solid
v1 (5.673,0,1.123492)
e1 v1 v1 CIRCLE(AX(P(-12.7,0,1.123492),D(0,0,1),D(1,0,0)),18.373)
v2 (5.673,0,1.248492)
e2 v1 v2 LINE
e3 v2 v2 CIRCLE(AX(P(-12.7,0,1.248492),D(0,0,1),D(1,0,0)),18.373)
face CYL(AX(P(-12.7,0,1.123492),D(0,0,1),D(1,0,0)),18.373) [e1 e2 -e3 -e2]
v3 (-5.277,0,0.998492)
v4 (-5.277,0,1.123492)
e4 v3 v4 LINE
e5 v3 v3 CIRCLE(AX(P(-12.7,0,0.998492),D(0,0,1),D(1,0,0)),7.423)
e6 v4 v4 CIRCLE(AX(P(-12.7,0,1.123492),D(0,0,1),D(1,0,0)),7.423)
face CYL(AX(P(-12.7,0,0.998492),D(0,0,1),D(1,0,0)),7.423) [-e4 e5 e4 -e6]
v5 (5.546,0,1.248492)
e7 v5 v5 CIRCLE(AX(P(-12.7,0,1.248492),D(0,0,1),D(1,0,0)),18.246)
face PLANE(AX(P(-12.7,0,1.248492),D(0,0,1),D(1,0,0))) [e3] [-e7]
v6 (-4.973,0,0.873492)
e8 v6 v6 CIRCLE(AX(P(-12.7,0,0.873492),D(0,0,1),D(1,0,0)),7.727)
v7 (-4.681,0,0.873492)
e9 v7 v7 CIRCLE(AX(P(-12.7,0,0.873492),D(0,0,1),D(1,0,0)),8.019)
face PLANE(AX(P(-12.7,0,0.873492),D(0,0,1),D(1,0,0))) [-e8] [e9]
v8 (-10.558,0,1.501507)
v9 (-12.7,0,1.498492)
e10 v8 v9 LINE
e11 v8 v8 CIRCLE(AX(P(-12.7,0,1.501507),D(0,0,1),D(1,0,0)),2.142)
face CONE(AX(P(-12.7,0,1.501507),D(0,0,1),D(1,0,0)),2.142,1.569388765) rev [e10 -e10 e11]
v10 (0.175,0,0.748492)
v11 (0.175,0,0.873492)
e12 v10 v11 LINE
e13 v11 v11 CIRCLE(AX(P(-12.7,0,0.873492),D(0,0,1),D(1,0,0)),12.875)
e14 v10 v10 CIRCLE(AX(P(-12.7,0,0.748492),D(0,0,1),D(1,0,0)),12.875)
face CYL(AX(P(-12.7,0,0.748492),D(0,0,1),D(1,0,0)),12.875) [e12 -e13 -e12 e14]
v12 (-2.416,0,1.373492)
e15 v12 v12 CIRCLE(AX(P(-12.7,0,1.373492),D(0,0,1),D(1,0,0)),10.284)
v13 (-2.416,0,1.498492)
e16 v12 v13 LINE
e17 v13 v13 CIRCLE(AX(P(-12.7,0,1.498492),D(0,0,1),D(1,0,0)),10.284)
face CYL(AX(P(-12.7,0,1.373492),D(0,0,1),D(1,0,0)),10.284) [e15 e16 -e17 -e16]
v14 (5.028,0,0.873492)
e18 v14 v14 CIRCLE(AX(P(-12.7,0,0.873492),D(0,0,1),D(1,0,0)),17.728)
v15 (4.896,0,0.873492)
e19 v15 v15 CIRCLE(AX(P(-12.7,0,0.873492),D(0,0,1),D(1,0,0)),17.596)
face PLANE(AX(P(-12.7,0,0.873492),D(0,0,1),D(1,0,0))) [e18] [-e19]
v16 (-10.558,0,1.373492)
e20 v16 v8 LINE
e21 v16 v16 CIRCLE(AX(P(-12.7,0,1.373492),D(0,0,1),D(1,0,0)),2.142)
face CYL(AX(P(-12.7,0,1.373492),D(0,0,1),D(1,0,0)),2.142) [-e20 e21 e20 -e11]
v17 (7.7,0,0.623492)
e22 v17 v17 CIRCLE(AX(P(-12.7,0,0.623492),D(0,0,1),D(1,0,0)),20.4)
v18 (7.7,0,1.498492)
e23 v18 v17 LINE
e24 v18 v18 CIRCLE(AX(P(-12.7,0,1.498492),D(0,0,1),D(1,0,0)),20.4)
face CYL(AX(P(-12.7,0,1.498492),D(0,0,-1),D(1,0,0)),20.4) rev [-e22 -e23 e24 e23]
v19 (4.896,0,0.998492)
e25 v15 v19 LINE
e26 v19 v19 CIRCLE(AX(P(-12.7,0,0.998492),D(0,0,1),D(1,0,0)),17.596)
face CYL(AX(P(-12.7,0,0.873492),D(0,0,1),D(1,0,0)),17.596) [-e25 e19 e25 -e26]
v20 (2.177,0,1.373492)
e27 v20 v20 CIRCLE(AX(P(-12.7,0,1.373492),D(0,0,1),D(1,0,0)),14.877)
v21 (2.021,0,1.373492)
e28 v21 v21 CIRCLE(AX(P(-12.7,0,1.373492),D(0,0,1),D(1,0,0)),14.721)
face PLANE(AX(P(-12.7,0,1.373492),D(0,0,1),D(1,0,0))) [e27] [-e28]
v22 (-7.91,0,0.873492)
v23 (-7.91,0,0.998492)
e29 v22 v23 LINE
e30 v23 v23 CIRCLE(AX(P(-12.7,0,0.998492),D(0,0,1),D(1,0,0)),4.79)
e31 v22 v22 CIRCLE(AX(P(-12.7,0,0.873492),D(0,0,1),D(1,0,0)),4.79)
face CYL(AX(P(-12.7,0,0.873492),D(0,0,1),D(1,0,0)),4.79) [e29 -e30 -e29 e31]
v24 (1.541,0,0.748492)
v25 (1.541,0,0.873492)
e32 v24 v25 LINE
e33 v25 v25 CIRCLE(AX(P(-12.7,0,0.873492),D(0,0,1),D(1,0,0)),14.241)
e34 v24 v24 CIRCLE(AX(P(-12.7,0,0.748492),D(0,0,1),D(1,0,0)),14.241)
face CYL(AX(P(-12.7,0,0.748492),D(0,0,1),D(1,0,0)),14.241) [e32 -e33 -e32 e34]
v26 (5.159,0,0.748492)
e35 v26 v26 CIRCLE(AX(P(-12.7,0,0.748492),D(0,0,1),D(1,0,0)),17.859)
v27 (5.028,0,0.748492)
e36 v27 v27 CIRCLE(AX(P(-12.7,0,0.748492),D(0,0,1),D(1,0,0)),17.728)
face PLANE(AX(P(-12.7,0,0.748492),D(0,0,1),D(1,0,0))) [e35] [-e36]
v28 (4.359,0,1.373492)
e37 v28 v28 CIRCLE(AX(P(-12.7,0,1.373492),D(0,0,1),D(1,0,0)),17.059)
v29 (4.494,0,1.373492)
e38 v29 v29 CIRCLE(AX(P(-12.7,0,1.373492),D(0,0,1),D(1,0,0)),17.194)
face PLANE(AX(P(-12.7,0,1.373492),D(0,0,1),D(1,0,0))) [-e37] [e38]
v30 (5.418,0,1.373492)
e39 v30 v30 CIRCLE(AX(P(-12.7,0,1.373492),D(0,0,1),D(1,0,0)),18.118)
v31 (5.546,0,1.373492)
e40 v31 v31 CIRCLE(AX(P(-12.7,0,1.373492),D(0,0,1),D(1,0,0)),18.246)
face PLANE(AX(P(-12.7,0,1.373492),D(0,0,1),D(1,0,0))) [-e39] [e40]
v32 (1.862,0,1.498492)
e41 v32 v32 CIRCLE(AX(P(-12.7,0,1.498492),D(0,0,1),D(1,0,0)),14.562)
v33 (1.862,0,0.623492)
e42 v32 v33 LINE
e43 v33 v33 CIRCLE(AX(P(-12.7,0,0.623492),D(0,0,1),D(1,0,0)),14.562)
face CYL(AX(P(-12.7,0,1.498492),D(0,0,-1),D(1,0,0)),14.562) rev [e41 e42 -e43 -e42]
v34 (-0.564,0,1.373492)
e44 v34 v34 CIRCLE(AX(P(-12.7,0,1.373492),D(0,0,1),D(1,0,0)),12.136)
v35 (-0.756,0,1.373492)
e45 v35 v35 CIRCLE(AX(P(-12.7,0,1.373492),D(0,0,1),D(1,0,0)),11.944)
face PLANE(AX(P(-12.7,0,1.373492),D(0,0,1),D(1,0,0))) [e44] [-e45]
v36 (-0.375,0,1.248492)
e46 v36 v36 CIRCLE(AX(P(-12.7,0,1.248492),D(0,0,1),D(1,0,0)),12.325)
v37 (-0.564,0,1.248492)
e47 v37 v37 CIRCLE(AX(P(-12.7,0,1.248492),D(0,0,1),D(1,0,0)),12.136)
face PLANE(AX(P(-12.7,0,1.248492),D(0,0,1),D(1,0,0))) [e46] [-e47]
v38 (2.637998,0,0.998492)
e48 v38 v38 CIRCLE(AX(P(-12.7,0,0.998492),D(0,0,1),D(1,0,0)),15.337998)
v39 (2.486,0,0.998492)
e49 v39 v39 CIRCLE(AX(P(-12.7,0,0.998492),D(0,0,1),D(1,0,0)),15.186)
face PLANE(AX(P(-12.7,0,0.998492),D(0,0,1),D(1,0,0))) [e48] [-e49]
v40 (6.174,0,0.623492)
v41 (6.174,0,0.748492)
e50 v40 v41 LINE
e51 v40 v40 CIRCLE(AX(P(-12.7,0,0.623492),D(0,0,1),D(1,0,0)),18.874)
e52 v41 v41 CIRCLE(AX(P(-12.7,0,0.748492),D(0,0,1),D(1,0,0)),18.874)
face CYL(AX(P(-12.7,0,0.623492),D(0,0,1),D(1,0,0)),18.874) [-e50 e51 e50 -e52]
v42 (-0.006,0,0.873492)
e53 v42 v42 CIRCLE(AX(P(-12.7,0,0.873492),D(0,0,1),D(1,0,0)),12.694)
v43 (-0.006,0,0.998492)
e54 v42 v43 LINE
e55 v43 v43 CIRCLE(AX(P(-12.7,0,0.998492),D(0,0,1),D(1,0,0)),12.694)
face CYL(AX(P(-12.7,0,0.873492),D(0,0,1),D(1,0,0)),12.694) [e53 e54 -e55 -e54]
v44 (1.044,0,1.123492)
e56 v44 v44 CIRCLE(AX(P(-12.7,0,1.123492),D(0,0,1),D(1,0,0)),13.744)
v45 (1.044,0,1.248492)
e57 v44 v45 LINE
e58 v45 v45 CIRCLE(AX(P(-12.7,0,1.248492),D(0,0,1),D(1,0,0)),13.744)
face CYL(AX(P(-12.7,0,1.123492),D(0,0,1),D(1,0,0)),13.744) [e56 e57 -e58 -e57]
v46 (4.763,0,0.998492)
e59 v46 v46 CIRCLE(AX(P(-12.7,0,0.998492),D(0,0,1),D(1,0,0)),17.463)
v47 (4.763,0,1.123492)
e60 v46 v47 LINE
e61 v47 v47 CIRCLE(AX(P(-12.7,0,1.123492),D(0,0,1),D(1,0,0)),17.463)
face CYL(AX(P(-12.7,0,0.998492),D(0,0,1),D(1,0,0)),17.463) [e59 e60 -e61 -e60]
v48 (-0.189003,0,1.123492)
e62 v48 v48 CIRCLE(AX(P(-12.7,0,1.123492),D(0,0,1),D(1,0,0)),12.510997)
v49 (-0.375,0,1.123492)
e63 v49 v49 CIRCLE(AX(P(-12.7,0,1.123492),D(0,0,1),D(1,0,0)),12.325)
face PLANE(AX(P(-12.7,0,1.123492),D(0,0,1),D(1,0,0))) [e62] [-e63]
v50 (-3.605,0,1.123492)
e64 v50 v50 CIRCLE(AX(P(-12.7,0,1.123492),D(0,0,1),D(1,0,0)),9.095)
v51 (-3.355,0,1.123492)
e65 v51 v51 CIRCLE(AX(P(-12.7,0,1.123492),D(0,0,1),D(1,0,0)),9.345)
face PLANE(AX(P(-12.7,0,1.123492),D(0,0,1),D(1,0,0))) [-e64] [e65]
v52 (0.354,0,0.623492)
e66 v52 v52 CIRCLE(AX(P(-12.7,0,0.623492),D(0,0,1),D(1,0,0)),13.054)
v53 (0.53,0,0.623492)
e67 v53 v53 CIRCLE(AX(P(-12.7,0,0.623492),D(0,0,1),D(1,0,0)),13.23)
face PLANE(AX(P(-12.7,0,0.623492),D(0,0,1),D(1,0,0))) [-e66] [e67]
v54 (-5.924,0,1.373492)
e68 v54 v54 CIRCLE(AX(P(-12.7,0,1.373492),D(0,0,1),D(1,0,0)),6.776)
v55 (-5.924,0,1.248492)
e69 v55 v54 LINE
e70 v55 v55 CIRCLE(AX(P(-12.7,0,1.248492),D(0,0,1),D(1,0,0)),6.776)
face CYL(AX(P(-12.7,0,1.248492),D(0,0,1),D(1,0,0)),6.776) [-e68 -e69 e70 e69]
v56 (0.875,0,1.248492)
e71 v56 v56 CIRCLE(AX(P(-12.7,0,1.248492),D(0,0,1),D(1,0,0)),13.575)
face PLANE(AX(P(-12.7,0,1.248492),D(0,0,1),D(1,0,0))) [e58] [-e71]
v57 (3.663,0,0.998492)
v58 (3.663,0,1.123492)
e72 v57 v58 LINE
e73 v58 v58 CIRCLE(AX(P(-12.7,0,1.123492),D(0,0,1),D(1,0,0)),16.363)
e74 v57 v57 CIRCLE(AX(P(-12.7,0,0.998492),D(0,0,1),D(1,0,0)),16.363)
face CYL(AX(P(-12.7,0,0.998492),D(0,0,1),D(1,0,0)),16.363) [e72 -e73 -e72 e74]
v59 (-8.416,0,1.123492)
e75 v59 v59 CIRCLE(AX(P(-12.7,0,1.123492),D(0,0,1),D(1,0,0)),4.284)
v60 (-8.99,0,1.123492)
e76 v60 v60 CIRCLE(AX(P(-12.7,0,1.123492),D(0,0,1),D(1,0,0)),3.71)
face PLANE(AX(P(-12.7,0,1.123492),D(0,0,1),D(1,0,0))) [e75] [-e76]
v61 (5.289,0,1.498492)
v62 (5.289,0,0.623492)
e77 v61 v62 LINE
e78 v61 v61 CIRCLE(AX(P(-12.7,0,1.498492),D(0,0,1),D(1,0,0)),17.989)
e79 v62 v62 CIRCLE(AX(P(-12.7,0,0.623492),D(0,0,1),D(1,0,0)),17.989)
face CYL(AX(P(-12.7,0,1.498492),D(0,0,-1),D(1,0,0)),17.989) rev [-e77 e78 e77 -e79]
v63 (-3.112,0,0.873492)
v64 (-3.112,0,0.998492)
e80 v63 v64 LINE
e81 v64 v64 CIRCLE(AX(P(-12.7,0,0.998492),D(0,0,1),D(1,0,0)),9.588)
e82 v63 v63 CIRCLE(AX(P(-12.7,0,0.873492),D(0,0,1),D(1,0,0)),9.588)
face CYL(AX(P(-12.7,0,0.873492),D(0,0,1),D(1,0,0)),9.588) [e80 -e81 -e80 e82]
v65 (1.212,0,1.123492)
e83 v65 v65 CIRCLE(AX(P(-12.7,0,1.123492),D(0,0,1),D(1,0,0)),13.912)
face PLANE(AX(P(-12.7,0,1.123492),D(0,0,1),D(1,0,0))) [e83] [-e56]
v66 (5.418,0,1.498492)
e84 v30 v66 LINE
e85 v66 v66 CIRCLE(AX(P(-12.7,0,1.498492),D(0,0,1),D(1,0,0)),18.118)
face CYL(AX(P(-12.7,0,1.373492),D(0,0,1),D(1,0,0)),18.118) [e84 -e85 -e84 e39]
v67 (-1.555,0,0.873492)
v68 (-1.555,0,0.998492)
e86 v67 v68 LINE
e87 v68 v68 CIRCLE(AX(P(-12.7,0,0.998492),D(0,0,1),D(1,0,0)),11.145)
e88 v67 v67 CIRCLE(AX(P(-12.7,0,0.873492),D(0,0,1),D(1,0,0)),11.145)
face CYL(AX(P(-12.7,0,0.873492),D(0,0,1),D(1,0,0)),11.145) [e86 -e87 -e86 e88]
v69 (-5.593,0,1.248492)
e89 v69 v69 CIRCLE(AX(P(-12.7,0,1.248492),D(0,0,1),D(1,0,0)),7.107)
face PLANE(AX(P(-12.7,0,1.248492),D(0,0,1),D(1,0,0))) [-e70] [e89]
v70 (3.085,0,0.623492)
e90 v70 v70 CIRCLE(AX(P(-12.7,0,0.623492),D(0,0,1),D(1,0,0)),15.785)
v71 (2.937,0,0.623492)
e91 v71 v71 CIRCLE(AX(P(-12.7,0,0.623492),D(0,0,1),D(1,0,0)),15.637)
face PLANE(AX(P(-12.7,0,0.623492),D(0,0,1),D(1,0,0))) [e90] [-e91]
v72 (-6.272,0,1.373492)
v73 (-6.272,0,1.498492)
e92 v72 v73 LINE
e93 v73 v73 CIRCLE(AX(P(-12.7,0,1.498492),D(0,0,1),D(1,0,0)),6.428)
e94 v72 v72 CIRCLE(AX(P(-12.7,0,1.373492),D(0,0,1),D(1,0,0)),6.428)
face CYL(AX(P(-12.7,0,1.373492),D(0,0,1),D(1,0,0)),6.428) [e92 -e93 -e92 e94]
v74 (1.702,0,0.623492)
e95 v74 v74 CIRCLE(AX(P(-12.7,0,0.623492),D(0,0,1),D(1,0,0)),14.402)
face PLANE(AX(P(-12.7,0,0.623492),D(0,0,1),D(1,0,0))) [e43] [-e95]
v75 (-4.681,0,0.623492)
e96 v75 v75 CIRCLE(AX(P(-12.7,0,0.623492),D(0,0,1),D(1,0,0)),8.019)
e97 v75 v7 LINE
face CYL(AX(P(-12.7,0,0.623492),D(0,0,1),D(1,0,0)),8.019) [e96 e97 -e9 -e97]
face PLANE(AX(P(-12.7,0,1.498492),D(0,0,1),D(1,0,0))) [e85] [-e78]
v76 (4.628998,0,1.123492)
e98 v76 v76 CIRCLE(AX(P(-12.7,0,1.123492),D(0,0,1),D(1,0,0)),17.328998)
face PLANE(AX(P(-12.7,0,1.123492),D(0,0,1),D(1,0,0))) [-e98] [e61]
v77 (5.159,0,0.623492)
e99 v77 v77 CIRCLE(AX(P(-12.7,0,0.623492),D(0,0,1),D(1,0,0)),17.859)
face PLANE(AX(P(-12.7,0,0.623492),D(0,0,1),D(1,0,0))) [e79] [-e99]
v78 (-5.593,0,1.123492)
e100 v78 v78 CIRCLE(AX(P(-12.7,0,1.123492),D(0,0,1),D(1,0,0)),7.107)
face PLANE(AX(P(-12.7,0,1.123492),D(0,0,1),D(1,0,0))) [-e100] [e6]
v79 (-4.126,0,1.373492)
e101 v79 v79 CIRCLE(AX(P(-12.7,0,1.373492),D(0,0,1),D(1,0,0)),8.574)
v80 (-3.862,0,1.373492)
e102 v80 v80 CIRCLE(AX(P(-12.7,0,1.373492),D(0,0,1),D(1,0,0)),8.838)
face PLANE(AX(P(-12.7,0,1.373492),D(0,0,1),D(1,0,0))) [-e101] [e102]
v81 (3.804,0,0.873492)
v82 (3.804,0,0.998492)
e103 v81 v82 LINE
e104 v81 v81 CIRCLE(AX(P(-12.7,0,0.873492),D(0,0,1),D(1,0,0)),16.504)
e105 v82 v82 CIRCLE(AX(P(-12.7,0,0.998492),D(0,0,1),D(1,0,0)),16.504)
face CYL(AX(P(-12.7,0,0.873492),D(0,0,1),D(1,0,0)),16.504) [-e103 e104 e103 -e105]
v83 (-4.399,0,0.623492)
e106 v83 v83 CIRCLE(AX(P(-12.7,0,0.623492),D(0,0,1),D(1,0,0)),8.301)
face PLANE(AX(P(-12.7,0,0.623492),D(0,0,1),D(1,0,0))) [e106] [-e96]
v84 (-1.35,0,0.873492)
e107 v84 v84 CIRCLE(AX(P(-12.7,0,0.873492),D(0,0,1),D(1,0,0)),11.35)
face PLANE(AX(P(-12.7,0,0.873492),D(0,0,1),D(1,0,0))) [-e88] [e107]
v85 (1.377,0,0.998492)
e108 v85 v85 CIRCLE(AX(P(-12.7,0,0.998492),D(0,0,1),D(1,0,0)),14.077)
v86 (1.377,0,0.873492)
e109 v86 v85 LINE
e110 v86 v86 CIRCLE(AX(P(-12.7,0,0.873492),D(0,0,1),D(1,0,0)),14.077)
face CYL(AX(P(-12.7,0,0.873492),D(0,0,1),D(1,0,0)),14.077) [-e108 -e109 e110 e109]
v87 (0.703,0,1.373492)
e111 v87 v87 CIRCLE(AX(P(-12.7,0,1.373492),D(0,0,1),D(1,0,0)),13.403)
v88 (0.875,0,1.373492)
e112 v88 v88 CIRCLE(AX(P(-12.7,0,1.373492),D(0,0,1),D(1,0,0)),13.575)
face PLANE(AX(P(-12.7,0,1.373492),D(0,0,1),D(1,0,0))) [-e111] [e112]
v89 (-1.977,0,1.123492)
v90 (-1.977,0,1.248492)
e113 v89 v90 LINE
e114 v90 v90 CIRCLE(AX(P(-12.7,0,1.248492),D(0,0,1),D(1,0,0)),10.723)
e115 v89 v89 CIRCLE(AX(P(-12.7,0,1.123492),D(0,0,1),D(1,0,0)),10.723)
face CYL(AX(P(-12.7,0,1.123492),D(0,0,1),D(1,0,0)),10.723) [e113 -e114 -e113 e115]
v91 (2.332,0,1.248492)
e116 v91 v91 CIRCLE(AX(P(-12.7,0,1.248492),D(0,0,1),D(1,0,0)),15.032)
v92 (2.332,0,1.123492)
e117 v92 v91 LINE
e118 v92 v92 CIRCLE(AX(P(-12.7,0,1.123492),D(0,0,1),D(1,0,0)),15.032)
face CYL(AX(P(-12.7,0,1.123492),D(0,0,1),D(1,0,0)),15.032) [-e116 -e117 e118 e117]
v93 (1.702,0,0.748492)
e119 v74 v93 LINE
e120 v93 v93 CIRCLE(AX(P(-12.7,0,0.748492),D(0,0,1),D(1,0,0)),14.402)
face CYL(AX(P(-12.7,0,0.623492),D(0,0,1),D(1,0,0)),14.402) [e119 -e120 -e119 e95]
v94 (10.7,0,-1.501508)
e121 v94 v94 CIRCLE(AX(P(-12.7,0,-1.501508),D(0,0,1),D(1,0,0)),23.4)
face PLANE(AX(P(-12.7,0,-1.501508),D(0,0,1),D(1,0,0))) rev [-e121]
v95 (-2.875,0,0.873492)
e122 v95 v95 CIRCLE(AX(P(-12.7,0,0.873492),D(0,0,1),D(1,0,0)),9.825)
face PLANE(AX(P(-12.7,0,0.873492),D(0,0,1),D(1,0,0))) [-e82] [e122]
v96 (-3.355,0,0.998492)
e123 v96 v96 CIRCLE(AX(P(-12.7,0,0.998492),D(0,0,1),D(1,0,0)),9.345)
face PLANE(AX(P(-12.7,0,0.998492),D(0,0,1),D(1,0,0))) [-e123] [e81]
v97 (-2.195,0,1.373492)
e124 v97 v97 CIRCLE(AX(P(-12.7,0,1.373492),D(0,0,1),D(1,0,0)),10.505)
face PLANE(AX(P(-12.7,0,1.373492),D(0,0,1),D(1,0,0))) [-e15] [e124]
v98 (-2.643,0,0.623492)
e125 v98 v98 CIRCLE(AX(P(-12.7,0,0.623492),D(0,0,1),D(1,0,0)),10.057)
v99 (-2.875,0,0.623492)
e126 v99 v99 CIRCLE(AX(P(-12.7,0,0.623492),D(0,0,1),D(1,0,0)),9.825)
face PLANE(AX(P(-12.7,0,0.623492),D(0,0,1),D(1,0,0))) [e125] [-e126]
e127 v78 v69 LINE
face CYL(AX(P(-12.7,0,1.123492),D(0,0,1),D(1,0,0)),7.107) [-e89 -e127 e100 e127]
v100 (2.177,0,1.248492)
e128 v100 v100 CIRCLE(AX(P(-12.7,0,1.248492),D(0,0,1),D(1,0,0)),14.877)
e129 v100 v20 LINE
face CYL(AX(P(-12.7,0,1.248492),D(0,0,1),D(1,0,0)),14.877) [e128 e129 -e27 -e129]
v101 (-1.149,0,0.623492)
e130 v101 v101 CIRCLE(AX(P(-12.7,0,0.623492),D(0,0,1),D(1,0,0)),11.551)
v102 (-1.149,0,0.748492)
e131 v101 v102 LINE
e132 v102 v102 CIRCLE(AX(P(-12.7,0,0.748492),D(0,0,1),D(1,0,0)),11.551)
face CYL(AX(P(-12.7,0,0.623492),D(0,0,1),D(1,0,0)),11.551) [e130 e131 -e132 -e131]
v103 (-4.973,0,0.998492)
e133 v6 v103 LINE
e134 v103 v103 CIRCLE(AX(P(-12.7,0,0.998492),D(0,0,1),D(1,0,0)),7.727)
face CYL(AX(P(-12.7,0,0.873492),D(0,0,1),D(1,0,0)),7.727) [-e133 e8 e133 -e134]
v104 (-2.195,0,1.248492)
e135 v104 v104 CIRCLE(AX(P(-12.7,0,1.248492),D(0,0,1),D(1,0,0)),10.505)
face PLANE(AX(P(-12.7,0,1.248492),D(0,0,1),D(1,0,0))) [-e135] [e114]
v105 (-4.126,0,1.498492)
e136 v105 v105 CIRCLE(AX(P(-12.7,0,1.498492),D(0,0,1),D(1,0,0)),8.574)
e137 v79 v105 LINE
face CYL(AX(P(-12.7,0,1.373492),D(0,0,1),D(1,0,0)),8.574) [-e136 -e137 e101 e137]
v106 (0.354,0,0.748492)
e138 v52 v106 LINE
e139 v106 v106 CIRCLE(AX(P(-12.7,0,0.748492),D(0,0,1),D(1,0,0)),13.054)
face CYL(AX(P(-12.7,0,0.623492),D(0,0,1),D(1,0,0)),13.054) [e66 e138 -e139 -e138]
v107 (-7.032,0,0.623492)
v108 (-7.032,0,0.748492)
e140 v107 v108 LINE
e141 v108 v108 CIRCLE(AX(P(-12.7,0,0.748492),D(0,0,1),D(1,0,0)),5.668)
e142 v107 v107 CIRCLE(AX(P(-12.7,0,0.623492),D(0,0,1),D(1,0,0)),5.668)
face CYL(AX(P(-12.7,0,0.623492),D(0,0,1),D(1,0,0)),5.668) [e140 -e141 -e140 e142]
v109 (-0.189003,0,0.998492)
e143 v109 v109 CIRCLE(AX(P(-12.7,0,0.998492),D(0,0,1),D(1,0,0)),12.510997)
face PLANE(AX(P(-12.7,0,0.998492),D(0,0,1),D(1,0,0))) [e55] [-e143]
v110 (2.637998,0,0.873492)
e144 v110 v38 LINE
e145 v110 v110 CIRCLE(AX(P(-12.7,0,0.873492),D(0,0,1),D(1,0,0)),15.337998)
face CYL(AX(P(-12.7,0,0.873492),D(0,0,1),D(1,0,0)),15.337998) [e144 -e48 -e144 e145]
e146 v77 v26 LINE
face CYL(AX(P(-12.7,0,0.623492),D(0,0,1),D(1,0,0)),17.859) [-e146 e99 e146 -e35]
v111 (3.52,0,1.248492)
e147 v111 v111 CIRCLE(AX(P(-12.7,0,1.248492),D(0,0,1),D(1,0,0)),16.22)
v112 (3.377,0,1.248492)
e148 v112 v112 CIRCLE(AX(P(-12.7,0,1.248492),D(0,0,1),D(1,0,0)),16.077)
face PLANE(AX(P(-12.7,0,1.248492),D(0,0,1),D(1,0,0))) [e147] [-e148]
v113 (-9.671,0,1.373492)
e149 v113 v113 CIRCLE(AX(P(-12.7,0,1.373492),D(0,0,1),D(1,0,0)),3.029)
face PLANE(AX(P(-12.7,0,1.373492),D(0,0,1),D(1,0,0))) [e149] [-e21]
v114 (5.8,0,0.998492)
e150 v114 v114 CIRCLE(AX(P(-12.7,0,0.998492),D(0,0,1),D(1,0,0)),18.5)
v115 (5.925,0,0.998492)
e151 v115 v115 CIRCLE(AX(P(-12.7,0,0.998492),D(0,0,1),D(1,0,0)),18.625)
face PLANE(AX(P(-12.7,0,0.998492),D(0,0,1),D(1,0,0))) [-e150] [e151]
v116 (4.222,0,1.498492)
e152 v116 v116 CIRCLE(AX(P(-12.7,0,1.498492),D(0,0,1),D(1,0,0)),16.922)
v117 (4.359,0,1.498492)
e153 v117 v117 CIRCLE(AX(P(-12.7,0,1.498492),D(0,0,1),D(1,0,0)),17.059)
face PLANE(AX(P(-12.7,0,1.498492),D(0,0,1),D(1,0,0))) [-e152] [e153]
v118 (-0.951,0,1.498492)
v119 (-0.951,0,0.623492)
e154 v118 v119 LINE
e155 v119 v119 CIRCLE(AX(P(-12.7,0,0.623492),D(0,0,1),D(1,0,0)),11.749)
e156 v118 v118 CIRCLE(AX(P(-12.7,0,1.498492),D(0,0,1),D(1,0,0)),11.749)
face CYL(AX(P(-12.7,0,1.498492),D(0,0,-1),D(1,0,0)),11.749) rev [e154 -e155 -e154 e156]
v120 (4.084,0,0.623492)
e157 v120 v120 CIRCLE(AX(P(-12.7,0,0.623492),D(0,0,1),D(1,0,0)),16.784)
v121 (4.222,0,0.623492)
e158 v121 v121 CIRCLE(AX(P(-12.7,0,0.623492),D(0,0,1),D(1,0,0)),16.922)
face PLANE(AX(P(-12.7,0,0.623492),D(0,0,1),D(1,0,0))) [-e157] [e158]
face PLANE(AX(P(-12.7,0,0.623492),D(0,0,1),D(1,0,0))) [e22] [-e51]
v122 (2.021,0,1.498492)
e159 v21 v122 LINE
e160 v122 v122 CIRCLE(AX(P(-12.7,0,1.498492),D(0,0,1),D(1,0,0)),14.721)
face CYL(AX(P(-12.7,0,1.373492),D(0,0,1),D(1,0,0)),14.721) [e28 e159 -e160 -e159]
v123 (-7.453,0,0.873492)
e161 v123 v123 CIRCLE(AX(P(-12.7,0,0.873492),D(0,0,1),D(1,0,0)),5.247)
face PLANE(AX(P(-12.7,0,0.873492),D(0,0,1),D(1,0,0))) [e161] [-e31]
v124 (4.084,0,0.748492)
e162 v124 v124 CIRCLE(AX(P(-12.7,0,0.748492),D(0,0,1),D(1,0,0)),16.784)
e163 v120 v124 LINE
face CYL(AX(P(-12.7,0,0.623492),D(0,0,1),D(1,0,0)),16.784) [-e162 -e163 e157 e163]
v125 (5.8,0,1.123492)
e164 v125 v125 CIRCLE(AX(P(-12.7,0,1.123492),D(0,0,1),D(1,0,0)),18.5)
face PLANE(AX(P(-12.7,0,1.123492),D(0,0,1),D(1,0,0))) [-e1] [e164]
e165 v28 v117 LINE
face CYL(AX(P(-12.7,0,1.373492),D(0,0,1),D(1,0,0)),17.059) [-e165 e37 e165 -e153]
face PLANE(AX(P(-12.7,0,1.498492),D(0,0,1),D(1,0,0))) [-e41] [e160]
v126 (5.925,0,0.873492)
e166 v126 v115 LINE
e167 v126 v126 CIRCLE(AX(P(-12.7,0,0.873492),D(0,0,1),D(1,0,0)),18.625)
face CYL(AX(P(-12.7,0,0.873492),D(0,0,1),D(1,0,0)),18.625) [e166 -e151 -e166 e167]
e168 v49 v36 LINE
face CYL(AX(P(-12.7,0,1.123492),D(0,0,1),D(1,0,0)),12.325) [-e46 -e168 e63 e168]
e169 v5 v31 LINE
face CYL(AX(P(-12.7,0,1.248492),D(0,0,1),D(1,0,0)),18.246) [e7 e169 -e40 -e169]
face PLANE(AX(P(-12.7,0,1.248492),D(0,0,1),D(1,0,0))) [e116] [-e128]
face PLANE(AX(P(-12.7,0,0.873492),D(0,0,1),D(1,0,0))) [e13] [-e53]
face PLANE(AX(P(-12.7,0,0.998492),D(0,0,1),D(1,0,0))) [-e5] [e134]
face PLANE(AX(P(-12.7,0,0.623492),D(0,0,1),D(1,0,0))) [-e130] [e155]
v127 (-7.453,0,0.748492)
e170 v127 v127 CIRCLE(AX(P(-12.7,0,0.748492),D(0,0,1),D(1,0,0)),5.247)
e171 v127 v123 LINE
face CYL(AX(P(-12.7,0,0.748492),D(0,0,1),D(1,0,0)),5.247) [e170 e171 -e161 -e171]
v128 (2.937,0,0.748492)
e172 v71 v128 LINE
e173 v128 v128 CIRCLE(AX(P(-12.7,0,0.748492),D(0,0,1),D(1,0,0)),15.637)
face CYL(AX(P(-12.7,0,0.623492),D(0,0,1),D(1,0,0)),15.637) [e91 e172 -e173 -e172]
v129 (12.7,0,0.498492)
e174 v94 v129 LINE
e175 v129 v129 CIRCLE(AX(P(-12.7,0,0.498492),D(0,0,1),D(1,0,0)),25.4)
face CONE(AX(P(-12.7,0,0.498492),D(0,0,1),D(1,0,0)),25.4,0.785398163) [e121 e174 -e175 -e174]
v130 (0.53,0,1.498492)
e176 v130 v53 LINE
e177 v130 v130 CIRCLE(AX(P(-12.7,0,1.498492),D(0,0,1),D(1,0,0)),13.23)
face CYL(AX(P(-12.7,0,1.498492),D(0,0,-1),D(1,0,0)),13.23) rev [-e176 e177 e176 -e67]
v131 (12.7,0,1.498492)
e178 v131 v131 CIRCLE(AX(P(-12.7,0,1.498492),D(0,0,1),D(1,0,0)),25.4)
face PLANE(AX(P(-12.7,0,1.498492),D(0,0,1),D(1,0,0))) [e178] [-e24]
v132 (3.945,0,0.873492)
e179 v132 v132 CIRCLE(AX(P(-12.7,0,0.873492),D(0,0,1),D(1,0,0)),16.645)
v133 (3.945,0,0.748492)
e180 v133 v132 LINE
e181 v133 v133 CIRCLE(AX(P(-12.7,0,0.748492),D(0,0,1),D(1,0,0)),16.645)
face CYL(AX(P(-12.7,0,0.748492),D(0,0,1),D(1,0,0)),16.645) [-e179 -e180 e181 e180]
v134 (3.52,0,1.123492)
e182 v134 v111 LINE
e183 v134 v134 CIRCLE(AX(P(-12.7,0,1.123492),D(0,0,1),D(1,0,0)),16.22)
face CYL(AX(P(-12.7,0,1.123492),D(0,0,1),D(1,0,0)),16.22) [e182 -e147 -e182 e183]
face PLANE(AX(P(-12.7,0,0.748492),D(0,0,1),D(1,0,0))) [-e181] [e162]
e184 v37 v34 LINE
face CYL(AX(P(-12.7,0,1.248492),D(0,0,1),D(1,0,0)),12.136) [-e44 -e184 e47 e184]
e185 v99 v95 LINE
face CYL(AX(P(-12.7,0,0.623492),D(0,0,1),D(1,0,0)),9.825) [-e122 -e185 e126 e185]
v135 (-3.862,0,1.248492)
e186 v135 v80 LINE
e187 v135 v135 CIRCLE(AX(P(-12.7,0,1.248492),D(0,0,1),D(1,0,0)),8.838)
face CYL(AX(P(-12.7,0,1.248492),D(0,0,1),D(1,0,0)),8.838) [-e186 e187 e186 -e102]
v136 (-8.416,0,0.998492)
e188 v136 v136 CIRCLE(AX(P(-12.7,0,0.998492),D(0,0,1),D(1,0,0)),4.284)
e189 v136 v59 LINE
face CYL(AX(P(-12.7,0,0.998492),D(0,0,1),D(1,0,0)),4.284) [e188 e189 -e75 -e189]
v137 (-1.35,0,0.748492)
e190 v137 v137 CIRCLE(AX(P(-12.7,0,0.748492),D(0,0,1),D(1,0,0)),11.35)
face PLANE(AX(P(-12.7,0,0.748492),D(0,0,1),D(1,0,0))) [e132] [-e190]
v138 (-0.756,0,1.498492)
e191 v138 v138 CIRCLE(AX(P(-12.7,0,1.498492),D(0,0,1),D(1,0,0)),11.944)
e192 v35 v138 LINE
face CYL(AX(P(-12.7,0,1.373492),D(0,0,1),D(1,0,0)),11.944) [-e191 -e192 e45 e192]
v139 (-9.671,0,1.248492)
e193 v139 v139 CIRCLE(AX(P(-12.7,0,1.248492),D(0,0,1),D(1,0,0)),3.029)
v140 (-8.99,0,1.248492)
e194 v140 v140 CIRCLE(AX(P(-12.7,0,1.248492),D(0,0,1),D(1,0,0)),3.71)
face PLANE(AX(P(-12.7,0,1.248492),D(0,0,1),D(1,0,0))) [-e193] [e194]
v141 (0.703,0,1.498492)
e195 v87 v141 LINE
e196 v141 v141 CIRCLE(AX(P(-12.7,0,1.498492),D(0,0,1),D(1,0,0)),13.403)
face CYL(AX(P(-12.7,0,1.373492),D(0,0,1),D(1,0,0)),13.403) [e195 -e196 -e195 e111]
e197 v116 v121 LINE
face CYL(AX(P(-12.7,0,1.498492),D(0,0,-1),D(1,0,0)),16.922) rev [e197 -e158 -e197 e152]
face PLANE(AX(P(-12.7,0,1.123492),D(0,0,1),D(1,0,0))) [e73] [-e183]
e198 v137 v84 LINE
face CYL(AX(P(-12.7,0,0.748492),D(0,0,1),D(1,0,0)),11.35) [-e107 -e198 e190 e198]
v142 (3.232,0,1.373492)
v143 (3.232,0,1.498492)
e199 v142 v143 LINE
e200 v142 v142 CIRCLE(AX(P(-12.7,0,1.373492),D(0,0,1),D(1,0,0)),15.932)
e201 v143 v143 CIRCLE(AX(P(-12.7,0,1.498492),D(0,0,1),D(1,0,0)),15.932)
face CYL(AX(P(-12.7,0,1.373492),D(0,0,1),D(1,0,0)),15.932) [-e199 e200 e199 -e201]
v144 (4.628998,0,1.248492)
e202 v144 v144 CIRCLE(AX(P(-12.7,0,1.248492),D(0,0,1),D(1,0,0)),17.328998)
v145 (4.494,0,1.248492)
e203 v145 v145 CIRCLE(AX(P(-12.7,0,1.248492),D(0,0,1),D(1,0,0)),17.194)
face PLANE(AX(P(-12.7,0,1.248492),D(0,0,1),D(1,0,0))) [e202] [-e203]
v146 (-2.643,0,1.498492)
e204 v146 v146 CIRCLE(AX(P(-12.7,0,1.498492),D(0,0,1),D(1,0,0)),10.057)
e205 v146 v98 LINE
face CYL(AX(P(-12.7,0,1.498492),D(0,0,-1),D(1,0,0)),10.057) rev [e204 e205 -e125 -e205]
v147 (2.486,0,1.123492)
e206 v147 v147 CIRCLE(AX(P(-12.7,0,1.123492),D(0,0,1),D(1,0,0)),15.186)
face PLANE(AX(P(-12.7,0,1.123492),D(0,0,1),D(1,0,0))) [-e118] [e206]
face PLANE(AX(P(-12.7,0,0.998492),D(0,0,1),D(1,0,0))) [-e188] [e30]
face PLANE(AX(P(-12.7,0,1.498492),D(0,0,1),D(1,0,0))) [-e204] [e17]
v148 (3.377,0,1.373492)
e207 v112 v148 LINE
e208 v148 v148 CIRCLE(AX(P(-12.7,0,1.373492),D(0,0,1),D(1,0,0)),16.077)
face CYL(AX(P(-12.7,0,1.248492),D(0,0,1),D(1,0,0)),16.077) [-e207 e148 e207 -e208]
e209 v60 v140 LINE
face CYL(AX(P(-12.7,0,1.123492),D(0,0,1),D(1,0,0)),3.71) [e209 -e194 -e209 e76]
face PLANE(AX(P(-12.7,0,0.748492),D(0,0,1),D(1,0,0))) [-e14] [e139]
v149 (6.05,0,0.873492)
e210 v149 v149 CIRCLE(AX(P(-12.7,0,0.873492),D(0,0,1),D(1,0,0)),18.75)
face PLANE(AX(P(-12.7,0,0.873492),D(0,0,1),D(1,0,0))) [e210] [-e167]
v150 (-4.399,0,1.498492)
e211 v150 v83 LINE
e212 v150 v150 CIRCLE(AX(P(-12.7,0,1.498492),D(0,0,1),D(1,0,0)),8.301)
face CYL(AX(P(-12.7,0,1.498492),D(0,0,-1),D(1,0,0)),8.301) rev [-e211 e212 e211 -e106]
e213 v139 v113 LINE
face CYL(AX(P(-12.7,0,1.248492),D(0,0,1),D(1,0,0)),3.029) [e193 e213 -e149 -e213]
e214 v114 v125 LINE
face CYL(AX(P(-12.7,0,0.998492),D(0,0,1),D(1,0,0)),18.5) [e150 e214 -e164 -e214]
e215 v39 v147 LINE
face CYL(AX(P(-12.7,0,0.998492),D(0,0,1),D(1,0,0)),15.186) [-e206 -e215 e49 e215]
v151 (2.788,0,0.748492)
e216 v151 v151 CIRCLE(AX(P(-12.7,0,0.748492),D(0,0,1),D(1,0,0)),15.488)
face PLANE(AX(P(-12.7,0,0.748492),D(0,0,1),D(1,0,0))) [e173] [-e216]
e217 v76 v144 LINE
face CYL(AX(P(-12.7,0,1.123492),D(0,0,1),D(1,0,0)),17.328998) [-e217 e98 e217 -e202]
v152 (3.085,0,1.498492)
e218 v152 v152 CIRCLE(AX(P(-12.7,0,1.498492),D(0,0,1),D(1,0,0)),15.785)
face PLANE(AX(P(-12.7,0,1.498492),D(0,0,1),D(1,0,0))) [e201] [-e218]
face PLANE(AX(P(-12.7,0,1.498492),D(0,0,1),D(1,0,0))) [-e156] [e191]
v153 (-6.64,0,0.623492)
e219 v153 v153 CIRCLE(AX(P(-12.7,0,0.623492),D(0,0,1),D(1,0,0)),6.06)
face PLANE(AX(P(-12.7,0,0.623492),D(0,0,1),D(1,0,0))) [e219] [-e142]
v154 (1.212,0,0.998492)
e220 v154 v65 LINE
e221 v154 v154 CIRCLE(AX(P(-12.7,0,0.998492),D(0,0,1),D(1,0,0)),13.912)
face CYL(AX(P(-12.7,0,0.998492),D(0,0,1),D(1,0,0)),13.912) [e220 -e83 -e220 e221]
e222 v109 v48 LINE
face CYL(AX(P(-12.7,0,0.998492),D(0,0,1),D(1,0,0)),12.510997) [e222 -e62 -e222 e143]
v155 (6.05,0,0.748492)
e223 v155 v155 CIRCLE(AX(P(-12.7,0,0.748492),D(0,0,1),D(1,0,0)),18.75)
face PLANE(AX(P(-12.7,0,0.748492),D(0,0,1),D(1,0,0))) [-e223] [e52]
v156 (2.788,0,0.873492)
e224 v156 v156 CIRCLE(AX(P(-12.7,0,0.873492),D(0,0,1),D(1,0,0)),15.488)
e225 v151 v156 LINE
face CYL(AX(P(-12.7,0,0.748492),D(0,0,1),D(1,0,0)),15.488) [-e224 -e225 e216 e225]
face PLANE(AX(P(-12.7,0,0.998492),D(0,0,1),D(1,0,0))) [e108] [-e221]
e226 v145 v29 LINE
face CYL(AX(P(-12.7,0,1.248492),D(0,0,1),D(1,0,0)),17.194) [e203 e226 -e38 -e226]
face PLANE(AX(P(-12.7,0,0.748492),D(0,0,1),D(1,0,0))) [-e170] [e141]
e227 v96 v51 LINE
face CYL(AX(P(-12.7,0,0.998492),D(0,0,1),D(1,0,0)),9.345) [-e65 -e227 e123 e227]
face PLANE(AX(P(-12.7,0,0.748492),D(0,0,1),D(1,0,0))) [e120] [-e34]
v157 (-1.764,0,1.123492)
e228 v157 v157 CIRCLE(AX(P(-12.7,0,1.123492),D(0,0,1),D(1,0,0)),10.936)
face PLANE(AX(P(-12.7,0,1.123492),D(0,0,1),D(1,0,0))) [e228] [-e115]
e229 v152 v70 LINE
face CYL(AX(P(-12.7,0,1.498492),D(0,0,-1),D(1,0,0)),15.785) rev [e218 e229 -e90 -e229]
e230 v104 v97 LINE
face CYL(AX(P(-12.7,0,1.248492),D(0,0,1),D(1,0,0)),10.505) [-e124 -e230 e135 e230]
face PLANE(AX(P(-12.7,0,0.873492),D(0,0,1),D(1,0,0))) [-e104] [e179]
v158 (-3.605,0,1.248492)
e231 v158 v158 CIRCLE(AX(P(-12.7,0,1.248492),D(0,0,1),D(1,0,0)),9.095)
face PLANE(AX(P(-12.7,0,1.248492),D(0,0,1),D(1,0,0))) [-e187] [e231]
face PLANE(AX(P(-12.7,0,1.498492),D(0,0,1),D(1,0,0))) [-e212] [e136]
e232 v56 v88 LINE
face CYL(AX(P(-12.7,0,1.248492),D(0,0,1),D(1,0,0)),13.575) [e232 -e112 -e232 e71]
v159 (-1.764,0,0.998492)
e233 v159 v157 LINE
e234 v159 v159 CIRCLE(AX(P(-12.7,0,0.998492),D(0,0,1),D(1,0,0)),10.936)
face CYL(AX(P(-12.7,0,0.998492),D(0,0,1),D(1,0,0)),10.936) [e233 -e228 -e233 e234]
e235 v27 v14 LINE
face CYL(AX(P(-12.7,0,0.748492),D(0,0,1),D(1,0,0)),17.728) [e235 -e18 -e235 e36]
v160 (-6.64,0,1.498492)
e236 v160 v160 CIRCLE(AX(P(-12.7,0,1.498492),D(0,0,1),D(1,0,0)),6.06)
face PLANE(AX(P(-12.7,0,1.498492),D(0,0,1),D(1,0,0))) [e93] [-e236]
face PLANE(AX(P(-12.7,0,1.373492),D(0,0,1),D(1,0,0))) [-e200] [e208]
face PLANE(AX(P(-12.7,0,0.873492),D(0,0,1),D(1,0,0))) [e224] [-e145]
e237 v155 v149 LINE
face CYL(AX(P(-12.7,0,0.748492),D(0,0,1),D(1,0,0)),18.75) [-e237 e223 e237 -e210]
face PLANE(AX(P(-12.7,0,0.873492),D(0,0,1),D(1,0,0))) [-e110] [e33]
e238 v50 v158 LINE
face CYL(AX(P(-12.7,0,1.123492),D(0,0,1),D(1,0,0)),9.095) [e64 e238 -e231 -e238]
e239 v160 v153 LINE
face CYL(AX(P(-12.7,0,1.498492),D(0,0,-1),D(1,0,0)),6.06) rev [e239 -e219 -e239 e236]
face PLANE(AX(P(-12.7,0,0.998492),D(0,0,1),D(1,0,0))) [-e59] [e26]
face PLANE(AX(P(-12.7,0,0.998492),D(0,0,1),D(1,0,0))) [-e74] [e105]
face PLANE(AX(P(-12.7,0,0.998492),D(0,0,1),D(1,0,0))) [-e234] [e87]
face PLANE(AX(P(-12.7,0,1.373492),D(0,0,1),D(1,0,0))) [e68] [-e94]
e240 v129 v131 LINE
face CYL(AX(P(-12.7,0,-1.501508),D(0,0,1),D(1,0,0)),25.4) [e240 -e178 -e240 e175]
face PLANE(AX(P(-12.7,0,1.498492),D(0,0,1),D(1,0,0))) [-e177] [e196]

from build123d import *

# Parameters (mm, degrees)
F2_SIZE = 2


with BuildPart() as f1:
    # F0 (on Front) → F1 (revolve)
    with BuildSketch(Plane.XZ):
        Polygon((-10.558, 1.373492), (-10.558, 1.501507), (-12.7, 1.498492), (-12.7, -1.501508), (12.7, -1.501508), (12.7, 1.498492), (7.7, 1.498492), (7.7, 0.623492), (6.174, 0.623492), (6.174, 0.748492), (6.05, 0.748492), (6.05, 0.873492), (5.925, 0.873492), (5.925, 0.998492), (5.8, 0.998492), (5.8, 1.123492), (5.673, 1.123492), (5.673, 1.248492), (5.546, 1.248492), (5.546, 1.373492), (5.418, 1.373492), (5.418, 1.498492), (5.289, 1.498492), (5.289, 0.623492), (5.159, 0.623492), (5.159, 0.748492), (5.028, 0.748492), (5.028, 0.873492), (4.896, 0.873492), (4.896, 0.998492), (4.763, 0.998492), (4.763, 1.123492), (4.628998, 1.123492), (4.628998, 1.248492), (4.494, 1.248492), (4.494, 1.373492), (4.359, 1.373492), (4.359, 1.498492), (4.222, 1.498492), (4.222, 0.623492), (4.084, 0.623492), (4.084, 0.748492), (3.945, 0.748492), (3.945, 0.873492), (3.804, 0.873492), (3.804, 0.998492), (3.663, 0.998492), (3.663, 1.123492), (3.52, 1.123492), (3.52, 1.248492), (3.377, 1.248492), (3.377, 1.373492), (3.232, 1.373492), (3.232, 1.498492), (3.085, 1.498492), (3.085, 0.623492), (2.937, 0.623492), (2.937, 0.748492), (2.788, 0.748492), (2.788, 0.873492), (2.637998, 0.873492), (2.637998, 0.998492), (2.486, 0.998492), (2.486, 1.123492), (2.332, 1.123492), (2.332, 1.248492), (2.177, 1.248492), (2.177, 1.373492), (2.021, 1.373492), (2.021, 1.498492), (1.862, 1.498492), (1.862, 0.623492), (1.702, 0.623492), (1.702, 0.748492), (1.541, 0.748492), (1.541, 0.873492), (1.377, 0.873492), (1.377, 0.998492), (1.212, 0.998492), (1.212, 1.123492), (1.044, 1.123492), (1.044, 1.248492), (0.875, 1.248492), (0.875, 1.373492), (0.703, 1.373492), (0.703, 1.498492), (0.53, 1.498492), (0.53, 0.623492), (0.354, 0.623492), (0.354, 0.748492), (0.175, 0.748492), (0.175, 0.873492), (-0.006, 0.873492), (-0.006, 0.998492), (-0.189003, 0.998492), (-0.189003, 1.123492), (-0.375, 1.123492), (-0.375, 1.248492), (-0.564, 1.248492), (-0.564, 1.373492), (-0.756, 1.373492), (-0.756, 1.498492), (-0.951, 1.498492), (-0.951, 0.623492), (-1.149, 0.623492), (-1.149, 0.748492), (-1.35, 0.748492), (-1.35, 0.873492), (-1.555, 0.873492), (-1.555, 0.998492), (-1.764, 0.998492), (-1.764, 1.123492), (-1.977, 1.123492), (-1.977, 1.248492), (-2.195, 1.248492), (-2.195, 1.373492), (-2.416, 1.373492), (-2.416, 1.498492), (-2.643, 1.498492), (-2.643, 0.623492), (-2.875, 0.623492), (-2.875, 0.873492), (-3.112, 0.873492), (-3.112, 0.998492), (-3.355, 0.998492), (-3.355, 1.123492), (-3.605, 1.123492), (-3.605, 1.248492), (-3.862, 1.248492), (-3.862, 1.373492), (-4.126, 1.373492), (-4.126, 1.498492), (-4.399, 1.498492), (-4.399, 0.623492), (-4.681, 0.623492), (-4.681, 0.873492), (-4.973, 0.873492), (-4.973, 0.998492), (-5.277, 0.998492), (-5.277, 1.123492), (-5.593, 1.123492), (-5.593, 1.248492), (-5.924, 1.248492), (-5.924, 1.373492), (-6.272, 1.373492), (-6.272, 1.498492), (-6.64, 1.498492), (-6.64, 0.623492), (-7.032, 0.623492), (-7.032, 0.748492), (-7.453, 0.748492), (-7.453, 0.873492), (-7.91, 0.873492), (-7.91, 0.998492), (-8.416, 0.998492), (-8.416, 1.123492), (-8.99, 1.123492), (-8.99, 1.248492), (-9.671, 1.248492), (-9.671, 1.373492), align=None)
    revolve(axis=Axis((-12.7, 0, -0.001508), (0, 0, 1)))

    # F2
    f2_edges = [f1.edges().sort_by_distance(p)[0] for p in [
        (-38.1, 0, -1.501508),
    ]]
    chamfer(f2_edges, length=F2_SIZE)


solid = f1.part
